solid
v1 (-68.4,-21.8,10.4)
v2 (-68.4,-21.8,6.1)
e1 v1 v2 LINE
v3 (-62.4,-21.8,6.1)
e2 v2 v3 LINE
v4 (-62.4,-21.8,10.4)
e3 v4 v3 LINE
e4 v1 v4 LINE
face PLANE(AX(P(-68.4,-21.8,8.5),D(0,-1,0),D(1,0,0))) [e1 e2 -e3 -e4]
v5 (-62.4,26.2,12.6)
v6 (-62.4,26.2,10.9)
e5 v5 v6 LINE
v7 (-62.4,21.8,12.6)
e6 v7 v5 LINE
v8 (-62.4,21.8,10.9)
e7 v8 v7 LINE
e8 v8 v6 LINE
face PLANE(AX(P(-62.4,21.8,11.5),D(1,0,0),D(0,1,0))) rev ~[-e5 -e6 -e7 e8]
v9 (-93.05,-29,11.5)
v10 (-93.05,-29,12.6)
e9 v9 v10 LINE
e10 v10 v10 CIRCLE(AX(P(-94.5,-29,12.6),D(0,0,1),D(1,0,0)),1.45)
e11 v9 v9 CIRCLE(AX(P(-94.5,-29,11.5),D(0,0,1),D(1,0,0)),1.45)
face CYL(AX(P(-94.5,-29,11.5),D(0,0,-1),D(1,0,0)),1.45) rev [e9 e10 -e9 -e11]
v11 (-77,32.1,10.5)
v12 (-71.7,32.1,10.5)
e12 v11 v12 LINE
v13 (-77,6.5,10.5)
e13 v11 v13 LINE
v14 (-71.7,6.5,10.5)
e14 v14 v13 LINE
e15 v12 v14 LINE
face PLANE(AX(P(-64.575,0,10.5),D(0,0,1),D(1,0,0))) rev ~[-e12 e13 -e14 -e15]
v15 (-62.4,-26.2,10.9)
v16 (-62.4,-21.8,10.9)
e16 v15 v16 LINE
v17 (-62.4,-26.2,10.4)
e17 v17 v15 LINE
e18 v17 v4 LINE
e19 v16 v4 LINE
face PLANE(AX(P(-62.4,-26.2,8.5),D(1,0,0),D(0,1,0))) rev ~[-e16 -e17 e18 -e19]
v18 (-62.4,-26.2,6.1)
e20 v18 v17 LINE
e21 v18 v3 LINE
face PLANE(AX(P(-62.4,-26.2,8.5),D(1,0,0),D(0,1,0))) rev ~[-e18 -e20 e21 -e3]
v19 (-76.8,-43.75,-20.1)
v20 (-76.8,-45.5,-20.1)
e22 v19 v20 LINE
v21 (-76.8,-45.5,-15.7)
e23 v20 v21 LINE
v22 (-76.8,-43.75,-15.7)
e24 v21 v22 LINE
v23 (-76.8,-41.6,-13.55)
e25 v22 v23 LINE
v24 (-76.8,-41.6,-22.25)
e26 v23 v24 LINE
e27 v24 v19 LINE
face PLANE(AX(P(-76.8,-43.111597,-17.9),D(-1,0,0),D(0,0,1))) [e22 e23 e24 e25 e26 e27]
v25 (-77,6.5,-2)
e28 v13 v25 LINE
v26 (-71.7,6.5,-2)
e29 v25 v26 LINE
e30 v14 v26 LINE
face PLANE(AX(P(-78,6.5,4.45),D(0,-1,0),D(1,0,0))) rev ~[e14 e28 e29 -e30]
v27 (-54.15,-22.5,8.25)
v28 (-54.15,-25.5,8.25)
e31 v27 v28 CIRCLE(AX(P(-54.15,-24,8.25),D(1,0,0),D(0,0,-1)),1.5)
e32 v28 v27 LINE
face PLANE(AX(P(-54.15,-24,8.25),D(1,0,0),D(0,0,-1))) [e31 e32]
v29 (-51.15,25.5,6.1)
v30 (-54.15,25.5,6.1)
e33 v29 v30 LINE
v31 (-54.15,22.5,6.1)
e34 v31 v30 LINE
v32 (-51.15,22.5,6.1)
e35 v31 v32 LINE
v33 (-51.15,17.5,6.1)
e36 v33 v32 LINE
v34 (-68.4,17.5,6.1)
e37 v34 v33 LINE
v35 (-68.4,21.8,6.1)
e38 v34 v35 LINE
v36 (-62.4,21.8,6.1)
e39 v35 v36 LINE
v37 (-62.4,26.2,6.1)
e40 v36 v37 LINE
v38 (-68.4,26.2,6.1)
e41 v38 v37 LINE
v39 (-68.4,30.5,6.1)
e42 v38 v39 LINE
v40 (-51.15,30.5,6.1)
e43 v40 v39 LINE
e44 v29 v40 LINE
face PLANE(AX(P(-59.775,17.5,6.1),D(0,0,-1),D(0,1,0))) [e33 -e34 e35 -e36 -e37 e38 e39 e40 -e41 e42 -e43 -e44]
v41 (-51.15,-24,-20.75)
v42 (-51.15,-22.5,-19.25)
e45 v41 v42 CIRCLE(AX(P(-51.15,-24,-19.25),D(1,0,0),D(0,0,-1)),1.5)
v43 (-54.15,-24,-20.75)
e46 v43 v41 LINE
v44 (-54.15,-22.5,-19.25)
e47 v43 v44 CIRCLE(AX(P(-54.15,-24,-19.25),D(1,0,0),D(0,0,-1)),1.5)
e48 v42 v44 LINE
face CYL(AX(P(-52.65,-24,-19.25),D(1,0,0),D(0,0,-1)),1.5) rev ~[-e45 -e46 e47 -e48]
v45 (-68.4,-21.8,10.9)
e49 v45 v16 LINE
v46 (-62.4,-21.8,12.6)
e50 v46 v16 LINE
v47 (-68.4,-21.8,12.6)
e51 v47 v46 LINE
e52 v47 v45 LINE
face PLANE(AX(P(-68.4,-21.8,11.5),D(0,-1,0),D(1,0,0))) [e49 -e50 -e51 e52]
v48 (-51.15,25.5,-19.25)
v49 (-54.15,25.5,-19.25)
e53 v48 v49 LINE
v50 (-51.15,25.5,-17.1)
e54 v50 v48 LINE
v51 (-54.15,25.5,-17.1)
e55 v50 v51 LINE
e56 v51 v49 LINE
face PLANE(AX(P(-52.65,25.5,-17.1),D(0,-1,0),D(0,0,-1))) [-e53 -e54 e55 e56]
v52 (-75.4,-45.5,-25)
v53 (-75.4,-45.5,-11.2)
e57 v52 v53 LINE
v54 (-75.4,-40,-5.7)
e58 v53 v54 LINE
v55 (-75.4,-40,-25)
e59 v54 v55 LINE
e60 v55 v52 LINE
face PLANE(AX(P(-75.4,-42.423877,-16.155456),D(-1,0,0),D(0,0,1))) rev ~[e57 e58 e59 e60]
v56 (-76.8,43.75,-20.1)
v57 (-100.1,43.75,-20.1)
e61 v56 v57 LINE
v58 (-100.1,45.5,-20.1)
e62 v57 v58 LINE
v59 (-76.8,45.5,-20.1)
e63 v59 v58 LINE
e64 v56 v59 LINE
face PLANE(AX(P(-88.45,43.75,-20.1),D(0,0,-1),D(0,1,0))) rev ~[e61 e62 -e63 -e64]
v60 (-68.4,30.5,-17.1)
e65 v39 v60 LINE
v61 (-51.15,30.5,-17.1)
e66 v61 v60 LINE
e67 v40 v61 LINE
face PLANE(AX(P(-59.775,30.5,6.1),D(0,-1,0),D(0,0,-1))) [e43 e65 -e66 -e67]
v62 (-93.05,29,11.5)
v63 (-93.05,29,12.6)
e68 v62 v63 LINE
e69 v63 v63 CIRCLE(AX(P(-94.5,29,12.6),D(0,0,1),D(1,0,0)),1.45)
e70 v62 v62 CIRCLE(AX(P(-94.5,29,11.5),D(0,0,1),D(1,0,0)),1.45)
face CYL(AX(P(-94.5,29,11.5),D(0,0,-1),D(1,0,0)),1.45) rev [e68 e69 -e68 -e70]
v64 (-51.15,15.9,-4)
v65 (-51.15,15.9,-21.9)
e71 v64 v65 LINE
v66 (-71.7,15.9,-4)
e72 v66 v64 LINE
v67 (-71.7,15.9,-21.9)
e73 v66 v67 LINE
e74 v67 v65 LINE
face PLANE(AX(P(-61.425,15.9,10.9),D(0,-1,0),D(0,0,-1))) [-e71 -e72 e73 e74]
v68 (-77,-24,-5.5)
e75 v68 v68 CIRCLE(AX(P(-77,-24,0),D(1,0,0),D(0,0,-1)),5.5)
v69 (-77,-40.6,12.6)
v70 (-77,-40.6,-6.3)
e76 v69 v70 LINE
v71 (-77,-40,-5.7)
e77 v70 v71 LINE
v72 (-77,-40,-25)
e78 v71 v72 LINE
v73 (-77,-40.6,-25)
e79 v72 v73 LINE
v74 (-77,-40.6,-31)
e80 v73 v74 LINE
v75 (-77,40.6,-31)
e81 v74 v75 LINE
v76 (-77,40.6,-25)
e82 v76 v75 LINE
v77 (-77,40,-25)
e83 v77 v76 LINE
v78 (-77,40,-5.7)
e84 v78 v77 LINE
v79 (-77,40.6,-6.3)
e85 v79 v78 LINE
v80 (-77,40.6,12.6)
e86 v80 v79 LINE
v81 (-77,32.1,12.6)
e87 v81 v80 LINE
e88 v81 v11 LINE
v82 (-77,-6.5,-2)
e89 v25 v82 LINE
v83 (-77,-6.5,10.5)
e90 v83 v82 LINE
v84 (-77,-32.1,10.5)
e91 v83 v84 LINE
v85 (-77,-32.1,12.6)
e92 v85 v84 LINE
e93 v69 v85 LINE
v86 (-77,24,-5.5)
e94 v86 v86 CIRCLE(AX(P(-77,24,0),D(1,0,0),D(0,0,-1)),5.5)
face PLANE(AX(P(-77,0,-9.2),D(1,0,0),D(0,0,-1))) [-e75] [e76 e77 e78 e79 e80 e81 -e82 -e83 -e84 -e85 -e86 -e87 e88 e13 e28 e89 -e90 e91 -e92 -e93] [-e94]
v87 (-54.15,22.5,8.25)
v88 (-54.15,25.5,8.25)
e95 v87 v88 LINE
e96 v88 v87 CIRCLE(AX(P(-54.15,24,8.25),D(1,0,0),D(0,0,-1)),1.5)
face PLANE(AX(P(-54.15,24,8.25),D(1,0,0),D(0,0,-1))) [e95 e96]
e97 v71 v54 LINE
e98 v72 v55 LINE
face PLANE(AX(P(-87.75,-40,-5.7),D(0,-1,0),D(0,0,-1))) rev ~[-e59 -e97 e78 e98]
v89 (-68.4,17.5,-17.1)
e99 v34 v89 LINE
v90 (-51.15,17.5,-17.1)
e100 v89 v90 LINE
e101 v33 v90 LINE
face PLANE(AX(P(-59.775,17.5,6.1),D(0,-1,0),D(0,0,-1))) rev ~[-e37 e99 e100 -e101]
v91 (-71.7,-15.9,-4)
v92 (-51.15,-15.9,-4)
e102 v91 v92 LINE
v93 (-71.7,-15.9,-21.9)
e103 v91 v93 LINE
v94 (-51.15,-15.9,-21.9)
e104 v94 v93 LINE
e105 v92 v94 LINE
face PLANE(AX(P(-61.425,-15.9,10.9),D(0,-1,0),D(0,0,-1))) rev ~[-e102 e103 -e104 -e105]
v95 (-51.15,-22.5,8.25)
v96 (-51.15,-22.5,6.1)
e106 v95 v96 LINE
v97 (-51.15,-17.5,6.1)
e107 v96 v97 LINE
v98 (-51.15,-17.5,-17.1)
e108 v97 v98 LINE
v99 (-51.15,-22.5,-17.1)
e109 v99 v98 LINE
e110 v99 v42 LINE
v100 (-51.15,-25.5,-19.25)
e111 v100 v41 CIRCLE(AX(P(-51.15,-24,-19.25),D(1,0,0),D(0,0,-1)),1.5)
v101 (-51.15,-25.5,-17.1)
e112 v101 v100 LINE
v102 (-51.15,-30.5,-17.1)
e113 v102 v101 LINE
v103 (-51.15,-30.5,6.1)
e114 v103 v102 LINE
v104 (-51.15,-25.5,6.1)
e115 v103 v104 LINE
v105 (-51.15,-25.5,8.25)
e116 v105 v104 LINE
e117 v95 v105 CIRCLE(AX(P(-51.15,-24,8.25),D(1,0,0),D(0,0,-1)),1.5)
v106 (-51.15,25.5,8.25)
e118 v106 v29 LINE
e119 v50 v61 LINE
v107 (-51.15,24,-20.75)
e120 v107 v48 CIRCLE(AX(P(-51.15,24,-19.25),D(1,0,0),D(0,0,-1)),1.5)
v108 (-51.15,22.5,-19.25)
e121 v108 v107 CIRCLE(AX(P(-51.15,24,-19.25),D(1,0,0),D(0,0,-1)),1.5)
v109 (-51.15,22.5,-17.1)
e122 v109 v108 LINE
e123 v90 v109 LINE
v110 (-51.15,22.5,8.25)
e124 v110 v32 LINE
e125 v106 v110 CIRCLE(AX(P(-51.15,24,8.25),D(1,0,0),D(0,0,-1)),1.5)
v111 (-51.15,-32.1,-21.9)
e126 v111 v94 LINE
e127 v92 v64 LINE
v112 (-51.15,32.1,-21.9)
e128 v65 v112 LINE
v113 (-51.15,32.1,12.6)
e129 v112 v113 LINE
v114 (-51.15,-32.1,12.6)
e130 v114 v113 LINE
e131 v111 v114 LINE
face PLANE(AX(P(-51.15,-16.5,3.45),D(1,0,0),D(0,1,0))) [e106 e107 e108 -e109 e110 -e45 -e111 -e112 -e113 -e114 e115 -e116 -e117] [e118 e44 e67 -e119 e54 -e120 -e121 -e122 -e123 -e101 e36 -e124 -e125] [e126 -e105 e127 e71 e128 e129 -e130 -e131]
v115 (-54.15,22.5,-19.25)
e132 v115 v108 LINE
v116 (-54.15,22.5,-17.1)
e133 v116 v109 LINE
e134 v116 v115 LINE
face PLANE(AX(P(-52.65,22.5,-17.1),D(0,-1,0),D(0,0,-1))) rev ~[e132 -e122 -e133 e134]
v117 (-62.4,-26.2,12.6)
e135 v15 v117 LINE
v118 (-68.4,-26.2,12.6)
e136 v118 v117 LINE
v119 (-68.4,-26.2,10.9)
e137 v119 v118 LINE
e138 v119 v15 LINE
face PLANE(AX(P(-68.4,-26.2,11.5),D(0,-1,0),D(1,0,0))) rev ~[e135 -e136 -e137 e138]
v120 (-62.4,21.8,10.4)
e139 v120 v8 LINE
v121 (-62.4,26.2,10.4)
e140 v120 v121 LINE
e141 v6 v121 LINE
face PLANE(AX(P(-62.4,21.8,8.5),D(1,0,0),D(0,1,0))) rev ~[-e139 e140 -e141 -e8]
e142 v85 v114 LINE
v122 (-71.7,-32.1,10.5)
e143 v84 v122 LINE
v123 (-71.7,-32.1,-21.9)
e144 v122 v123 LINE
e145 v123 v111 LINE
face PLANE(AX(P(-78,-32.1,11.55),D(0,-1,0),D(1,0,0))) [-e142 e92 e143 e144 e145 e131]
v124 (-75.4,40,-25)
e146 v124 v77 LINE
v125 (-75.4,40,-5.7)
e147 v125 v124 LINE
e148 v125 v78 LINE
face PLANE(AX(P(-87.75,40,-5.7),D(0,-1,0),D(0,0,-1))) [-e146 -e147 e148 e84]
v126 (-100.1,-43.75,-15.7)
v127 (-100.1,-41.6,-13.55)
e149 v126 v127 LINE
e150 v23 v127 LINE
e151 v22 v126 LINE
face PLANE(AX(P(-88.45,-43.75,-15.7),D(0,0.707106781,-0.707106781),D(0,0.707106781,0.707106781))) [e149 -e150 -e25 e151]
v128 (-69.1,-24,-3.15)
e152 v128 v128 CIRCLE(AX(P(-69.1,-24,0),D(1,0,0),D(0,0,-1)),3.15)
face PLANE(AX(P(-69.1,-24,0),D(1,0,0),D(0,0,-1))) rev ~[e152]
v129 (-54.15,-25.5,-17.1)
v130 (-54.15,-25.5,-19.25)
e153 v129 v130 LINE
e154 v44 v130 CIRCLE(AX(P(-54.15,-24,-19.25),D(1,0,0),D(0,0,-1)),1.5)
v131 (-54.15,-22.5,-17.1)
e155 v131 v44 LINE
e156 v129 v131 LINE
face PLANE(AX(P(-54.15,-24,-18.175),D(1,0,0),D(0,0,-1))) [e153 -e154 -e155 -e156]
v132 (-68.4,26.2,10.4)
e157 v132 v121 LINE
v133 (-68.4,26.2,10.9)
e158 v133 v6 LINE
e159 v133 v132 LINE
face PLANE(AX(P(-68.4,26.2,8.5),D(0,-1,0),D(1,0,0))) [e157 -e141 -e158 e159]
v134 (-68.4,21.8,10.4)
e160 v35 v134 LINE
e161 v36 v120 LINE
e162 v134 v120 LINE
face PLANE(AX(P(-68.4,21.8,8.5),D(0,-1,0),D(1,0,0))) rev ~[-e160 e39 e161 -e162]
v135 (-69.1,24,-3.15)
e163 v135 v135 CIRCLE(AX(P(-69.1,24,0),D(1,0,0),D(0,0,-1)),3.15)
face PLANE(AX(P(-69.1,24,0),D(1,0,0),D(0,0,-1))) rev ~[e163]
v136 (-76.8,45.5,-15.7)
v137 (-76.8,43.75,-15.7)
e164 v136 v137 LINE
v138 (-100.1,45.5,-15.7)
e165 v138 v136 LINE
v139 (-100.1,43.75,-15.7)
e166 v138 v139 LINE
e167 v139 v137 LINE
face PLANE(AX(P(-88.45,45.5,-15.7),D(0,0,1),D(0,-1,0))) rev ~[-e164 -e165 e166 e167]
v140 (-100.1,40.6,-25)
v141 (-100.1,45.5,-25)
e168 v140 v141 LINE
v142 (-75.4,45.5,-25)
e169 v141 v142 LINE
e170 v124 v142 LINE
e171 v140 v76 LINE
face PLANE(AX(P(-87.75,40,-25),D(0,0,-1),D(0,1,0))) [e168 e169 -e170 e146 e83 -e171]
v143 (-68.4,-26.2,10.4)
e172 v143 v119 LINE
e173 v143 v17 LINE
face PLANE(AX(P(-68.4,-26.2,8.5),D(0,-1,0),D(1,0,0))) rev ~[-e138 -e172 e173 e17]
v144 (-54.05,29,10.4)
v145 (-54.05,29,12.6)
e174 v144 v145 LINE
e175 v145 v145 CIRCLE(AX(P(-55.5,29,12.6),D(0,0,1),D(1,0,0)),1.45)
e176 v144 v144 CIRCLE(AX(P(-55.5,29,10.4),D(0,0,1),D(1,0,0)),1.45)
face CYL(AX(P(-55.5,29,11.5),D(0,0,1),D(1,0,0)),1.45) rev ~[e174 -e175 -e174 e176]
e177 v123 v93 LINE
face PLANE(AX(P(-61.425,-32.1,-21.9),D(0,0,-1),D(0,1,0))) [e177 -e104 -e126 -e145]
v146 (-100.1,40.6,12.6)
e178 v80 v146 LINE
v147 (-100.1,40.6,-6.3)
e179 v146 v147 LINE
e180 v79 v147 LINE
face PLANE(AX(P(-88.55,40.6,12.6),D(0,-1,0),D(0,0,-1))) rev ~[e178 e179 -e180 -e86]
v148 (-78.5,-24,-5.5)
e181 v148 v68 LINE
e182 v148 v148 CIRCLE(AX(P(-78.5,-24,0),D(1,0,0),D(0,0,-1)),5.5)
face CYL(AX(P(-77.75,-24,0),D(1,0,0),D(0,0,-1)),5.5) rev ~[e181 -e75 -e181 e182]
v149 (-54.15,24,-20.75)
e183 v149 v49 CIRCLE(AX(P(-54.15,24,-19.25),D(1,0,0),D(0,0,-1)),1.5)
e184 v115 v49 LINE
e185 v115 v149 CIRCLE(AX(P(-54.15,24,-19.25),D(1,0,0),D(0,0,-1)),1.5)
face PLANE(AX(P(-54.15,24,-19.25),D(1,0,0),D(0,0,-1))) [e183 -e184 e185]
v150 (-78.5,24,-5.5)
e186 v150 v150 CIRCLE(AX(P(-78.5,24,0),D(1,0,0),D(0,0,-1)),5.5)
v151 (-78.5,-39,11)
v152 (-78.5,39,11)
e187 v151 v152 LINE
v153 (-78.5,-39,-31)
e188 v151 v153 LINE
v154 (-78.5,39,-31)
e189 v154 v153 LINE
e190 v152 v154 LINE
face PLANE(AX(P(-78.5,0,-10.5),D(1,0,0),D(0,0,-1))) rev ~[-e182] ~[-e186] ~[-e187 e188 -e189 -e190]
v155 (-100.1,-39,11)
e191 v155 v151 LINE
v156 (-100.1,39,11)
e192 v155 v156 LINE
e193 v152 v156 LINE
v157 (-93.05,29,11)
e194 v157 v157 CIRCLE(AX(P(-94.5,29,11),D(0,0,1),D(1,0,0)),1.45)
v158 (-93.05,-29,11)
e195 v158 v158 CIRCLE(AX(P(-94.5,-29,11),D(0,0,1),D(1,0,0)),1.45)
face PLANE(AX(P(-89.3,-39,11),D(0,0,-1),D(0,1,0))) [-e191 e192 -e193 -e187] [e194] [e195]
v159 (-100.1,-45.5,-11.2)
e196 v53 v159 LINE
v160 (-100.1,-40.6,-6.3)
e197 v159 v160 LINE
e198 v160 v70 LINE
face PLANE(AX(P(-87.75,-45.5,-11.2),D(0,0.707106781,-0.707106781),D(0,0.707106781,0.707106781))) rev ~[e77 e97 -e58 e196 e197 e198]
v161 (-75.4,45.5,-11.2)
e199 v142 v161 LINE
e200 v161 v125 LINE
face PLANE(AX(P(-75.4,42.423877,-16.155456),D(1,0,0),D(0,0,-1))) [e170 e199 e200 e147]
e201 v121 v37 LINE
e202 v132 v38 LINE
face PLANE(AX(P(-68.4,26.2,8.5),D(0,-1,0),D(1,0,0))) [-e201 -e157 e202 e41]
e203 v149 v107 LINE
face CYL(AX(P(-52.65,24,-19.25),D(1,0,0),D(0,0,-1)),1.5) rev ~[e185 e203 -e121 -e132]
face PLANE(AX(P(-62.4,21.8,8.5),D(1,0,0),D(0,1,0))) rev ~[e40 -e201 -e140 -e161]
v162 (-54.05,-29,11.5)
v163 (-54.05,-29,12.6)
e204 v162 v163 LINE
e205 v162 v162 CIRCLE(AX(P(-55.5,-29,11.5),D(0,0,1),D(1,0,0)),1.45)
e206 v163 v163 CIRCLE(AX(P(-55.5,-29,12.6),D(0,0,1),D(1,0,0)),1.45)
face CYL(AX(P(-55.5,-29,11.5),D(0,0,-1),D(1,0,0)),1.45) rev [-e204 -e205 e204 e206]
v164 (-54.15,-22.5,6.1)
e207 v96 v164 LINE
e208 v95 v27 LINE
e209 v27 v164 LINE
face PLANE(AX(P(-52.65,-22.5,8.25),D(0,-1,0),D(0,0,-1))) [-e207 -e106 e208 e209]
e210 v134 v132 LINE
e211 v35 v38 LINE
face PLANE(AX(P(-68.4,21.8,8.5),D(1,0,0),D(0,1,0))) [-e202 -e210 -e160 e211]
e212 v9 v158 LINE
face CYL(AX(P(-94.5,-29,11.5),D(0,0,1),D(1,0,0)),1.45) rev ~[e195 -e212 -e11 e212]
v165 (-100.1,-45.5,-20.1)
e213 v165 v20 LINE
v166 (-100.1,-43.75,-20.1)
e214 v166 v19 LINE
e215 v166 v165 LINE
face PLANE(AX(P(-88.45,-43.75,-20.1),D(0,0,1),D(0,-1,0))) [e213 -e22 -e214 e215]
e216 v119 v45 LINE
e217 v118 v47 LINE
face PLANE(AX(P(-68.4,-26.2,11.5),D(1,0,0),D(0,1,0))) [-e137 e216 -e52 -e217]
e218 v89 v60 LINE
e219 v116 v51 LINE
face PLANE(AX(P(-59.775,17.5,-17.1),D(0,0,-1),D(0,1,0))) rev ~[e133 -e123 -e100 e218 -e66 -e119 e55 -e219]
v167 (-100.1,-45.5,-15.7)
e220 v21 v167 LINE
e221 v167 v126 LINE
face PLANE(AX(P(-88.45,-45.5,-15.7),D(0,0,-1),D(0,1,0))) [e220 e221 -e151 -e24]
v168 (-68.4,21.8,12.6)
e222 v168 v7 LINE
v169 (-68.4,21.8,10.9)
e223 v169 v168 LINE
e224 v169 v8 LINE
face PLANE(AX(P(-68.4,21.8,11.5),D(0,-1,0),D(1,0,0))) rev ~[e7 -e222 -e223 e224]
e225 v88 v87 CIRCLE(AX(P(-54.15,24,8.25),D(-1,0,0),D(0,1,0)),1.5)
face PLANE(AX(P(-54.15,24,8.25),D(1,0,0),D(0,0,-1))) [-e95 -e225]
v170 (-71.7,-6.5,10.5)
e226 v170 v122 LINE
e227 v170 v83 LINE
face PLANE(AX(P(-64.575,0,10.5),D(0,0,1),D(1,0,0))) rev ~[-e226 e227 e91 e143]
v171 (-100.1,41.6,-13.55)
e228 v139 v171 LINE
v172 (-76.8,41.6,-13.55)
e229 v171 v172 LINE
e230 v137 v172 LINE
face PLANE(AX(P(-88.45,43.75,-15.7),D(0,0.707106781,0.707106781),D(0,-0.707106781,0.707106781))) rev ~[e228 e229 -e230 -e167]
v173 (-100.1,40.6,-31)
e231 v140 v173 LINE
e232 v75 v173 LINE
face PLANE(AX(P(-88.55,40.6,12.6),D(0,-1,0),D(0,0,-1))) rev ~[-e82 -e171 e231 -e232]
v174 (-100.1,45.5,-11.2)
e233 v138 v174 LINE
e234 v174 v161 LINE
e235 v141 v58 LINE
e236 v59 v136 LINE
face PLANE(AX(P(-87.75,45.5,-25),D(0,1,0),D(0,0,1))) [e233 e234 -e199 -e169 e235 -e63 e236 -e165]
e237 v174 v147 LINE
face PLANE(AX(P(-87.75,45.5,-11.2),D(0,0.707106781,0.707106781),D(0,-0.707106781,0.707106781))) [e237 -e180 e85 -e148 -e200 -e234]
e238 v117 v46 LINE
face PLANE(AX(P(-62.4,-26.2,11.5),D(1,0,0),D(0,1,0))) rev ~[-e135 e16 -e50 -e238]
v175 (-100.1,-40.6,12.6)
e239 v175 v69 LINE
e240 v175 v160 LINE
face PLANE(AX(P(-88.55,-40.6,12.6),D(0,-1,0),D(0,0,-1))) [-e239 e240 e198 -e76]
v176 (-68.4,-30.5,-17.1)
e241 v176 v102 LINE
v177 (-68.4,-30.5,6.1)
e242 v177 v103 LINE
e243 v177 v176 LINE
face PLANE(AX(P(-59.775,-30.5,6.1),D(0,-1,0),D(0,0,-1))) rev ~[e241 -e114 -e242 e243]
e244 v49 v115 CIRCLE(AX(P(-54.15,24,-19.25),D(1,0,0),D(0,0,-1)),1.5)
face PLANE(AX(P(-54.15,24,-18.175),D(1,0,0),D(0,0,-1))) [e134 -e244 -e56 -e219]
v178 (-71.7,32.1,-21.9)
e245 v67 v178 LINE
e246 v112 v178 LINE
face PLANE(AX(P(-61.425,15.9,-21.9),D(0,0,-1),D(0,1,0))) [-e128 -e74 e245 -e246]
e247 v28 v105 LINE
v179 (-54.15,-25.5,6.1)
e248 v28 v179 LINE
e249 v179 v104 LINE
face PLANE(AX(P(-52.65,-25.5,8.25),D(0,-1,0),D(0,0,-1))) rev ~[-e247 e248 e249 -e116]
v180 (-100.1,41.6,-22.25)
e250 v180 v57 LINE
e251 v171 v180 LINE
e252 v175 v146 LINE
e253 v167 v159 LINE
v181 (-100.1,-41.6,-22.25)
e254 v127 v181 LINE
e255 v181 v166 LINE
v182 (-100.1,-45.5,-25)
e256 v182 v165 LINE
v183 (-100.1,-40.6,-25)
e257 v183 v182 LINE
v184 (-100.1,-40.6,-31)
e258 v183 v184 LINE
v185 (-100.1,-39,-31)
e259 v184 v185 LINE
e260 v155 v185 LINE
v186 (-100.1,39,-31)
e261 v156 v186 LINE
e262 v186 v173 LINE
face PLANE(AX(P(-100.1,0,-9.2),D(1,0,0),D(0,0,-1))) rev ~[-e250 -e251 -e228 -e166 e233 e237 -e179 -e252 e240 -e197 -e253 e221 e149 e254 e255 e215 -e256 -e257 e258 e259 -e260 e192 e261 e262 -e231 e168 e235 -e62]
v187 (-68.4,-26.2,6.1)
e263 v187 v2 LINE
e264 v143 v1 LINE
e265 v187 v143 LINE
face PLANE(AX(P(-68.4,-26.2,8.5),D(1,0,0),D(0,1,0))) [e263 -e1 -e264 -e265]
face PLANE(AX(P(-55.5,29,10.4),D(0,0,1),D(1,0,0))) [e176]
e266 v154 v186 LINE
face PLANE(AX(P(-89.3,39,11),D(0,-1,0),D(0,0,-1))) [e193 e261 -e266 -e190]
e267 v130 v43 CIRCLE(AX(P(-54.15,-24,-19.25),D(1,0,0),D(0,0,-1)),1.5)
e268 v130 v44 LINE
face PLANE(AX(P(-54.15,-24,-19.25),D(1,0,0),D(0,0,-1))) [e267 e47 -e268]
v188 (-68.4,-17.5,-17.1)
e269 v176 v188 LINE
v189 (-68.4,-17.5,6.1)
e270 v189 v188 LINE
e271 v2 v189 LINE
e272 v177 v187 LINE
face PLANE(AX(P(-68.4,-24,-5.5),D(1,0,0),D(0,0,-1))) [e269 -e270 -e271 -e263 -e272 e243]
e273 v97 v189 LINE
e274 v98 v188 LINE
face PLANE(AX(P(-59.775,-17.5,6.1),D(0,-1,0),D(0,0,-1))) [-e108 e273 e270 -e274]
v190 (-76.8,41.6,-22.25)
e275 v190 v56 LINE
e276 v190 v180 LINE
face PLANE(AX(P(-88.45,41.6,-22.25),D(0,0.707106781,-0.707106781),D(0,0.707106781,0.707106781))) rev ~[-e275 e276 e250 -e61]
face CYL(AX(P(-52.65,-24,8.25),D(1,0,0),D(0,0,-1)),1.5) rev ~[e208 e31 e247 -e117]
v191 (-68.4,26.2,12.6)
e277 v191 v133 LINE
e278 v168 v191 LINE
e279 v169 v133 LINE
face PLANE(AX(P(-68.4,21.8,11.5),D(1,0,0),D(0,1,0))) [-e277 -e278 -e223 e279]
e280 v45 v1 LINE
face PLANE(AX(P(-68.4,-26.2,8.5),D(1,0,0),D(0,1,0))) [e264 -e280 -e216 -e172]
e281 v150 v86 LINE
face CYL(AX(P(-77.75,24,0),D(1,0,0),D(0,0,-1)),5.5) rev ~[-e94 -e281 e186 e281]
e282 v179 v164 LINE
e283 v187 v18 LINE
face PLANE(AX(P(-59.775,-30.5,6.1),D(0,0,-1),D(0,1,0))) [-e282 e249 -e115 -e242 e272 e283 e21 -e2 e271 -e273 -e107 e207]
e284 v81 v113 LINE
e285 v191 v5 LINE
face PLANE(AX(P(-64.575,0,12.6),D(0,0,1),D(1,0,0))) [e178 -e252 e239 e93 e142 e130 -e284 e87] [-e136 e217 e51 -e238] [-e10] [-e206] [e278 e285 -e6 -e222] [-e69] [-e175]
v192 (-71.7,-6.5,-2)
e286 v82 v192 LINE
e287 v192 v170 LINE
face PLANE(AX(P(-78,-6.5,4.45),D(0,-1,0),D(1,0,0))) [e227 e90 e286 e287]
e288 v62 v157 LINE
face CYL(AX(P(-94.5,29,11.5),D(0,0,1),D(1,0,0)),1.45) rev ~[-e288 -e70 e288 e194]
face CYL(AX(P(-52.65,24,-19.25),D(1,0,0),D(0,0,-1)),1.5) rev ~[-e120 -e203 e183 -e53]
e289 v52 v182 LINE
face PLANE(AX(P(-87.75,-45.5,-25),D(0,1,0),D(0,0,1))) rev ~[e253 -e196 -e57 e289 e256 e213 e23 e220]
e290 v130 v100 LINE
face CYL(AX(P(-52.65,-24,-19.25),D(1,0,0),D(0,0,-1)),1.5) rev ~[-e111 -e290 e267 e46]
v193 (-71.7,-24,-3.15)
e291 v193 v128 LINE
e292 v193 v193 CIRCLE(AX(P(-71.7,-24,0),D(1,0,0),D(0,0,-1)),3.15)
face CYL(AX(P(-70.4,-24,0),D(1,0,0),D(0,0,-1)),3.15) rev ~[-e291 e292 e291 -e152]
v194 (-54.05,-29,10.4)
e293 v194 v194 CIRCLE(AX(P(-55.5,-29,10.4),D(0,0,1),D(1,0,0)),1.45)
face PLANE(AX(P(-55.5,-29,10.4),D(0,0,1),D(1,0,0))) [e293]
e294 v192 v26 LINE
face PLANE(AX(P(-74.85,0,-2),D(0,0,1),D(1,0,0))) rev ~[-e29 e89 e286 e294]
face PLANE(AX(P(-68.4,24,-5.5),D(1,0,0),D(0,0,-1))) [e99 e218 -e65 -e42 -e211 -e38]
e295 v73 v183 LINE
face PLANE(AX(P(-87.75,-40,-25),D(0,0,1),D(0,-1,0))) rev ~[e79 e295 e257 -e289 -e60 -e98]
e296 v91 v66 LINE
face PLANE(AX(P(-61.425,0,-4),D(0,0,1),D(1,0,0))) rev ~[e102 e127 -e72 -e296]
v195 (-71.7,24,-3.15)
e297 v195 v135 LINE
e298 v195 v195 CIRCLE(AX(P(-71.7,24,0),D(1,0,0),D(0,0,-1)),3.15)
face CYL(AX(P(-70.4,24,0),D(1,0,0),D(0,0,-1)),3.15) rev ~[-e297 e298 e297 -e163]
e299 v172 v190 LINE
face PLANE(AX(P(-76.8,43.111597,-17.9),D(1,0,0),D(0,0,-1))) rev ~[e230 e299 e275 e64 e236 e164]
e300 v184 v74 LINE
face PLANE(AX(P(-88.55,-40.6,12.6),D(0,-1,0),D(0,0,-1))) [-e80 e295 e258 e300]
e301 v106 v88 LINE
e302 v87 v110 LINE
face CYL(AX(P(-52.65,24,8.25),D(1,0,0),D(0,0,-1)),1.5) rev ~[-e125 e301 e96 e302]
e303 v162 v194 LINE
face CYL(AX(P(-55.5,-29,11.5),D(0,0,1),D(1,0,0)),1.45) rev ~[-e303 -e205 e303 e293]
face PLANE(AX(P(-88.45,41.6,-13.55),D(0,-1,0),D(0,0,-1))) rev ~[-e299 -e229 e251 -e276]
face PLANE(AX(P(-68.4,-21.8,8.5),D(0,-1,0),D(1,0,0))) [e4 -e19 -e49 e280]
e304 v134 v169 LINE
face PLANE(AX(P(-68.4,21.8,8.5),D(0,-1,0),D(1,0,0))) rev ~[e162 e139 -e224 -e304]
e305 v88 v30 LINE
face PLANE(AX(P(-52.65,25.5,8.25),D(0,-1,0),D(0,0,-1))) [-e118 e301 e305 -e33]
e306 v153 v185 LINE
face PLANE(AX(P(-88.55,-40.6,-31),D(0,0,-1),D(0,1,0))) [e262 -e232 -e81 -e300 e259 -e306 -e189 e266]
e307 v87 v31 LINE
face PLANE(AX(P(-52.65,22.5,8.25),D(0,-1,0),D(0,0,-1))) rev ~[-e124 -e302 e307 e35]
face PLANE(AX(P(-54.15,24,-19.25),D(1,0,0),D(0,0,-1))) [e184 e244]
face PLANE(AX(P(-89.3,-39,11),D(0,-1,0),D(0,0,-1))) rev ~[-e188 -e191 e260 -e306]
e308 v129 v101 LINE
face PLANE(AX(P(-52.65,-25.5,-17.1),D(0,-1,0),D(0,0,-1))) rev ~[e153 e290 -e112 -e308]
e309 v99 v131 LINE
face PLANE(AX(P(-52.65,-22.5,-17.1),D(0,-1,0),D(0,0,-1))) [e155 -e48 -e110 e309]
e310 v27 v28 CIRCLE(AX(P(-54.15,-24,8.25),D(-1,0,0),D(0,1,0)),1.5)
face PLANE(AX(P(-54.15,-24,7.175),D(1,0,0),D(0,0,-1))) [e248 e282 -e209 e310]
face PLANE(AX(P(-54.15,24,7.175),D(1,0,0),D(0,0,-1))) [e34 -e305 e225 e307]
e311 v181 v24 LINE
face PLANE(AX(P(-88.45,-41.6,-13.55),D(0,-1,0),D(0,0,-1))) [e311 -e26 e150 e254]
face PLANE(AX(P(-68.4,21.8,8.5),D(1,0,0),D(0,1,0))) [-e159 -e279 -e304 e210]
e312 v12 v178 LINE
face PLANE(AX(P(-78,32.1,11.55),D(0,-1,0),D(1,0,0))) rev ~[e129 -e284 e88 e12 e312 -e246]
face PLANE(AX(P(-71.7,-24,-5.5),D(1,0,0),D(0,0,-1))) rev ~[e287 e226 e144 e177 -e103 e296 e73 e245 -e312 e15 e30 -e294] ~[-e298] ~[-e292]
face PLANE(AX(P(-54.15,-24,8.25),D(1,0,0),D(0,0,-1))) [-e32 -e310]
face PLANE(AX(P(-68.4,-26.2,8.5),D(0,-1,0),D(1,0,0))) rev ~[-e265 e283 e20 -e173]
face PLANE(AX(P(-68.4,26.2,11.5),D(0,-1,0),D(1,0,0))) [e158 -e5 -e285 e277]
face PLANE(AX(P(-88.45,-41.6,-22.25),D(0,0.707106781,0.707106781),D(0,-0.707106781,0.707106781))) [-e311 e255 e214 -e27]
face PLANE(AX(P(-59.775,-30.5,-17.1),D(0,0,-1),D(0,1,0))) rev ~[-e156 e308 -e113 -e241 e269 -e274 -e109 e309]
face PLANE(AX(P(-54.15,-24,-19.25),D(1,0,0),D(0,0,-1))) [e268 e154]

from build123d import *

# Parameters (mm, degrees)
BOSS_EXTRUDE1_START = -88.55
SKETCH1_W           = 43.6
SKETCH1_H           = 81.2
BOSS_EXTRUDE1_DEPTH = 11.55
BOSS_EXTRUDE2_START = 3.45
SKETCH2_W           = 20.55
SKETCH2_H           = 33
BOSS_EXTRUDE2_DEPTH = 7.45
BOSS_EXTRUDE3_START = 4.45
SKETCH3_W           = 6.3
SKETCH3_H           = 13
BOSS_EXTRUDE3_DEPTH = 6.45
BOSS_EXTRUDE4_START = 11.55
SKETCH4_W           = 26.85
SKETCH4_H           = 64.2
BOSS_EXTRUDE4_DEPTH = 1.05
BOSS_EXTRUDE5_START = -61.425
SKETCH5_W           = 32.8
SKETCH5_H           = 16.2
BOSS_EXTRUDE5_DEPTH = 10.275
BOSS_EXTRUDE6_START = -87.75
BOSS_EXTRUDE6_DEPTH = 12.35
BOSS_EXTRUDE7_START = -61.425
SKETCH7_W           = 32.8
SKETCH7_H           = 16.2
BOSS_EXTRUDE7_DEPTH = 10.275
BOSS_EXTRUDE8_START = -87.75
BOSS_EXTRUDE8_DEPTH = 12.35
CUT_EXTRUDE1_START  = -89.3
SKETCH9_W           = 43
SKETCH9_H           = 78
CUT_EXTRUDE1_DEPTH  = 10.8
CUT_EXTRUDE2_START  = 11.5
SKETCH10_R          = 1.45
CUT_EXTRUDE2_DEPTH  = 1.1
CUT_EXTRUDE3_START  = -88.45
CUT_EXTRUDE3_DEPTH  = 11.65
CUT_EXTRUDE4_START  = -59.775
SKETCH12_W          = 23.2
SKETCH12_H          = 13
CUT_EXTRUDE4_DEPTH  = 8.625
CUT_EXTRUDE5_START  = -52.65
SKETCH13_R          = 1.5
CUT_EXTRUDE5_DEPTH  = 1.5
CUT_EXTRUDE6_START  = -52.65
SKETCH14_W          = 2.15
SKETCH14_H          = 3
CUT_EXTRUDE6_DEPTH  = 1.5
CUT_EXTRUDE7_START  = -52.65
SKETCH15_R          = 1.5
CUT_EXTRUDE7_DEPTH  = 1.5
CUT_EXTRUDE8_START  = -52.65
SKETCH16_W          = 2.15
SKETCH16_H          = 3
CUT_EXTRUDE8_DEPTH  = 1.5
CUT_EXTRUDE9_START  = -70.4
SKETCH17_R          = 3.15
CUT_EXTRUDE9_DEPTH  = 1.3
CUT_EXTRUDE10_START = 8.5
SKETCH18_W          = 6
SKETCH18_H          = 4.4
CUT_EXTRUDE10_DEPTH = 2.4
CUT_EXTRUDE11_START = 11.5
SKETCH19_W          = 6
SKETCH19_H          = 4.4
CUT_EXTRUDE11_DEPTH = 1.1
CUT_EXTRUDE12_START = -77.75
SKETCH20_R          = 5.5
CUT_EXTRUDE12_DEPTH = 0.75
CUT_EXTRUDE13_START = -88.45
CUT_EXTRUDE13_DEPTH = 11.65
CUT_EXTRUDE14_START = -59.775
SKETCH22_W          = 23.2
SKETCH22_H          = 13
CUT_EXTRUDE14_DEPTH = 8.625
CUT_EXTRUDE15_START = -52.65
SKETCH23_R          = 1.5
CUT_EXTRUDE15_DEPTH = 1.5
CUT_EXTRUDE16_START = -52.65
SKETCH24_W          = 2.15
SKETCH24_H          = 3
CUT_EXTRUDE16_DEPTH = 1.5
CUT_EXTRUDE17_START = -52.65
SKETCH25_R          = 1.5
CUT_EXTRUDE17_DEPTH = 1.5
CUT_EXTRUDE18_START = -52.65
SKETCH26_W          = 2.15
SKETCH26_H          = 3
CUT_EXTRUDE18_DEPTH = 1.5
CUT_EXTRUDE19_START = -70.4
SKETCH27_R          = 3.15
CUT_EXTRUDE19_DEPTH = 1.3
CUT_EXTRUDE20_START = 8.5
SKETCH28_W          = 6
SKETCH28_H          = 4.4
CUT_EXTRUDE20_DEPTH = 2.4
CUT_EXTRUDE21_START = 11.5
SKETCH29_W          = 6
SKETCH29_H          = 4.4
CUT_EXTRUDE21_DEPTH = 1.1
CUT_EXTRUDE22_START = -77.75
SKETCH30_R          = 5.5
CUT_EXTRUDE22_DEPTH = 0.75


with BuildPart() as part:
    # Sketch1 → Boss-Extrude1 (new, symmetric)
    with BuildSketch(Plane(origin=(0, 0, 0), x_dir=(0, 0, -1), z_dir=(1, 0, 0)).offset(BOSS_EXTRUDE1_START)):
        with Locations((9.2, 0)):
            Rectangle(SKETCH1_W, SKETCH1_H)
    extrude(amount=BOSS_EXTRUDE1_DEPTH, both=True)



with BuildPart() as body_2:
    # Sketch2 → Boss-Extrude2 (new, symmetric)
    with BuildSketch(Plane.XY.offset(BOSS_EXTRUDE2_START)):
        with Locations((-61.425, 0)):
            Rectangle(SKETCH2_W, SKETCH2_H)
    extrude(amount=BOSS_EXTRUDE2_DEPTH, both=True)


with BuildPart() as part_1:
    add(part.part)

    add(body_2.part)  # Boss-Extrude3 merges body 2
    # Sketch3 → Boss-Extrude3 (add, symmetric)
    with BuildSketch(Plane.XY.offset(BOSS_EXTRUDE3_START)):
        with Locations((-74.85, 0)):
            Rectangle(SKETCH3_W, SKETCH3_H)
    extrude(amount=BOSS_EXTRUDE3_DEPTH, both=True)

    # Sketch4 → Boss-Extrude4 (add, symmetric)
    with BuildSketch(Plane.XY.offset(BOSS_EXTRUDE4_START)):
        with Locations((-64.575, 0)):
            Rectangle(SKETCH4_W, SKETCH4_H)
    extrude(amount=BOSS_EXTRUDE4_DEPTH, both=True)

    # Sketch5 → Boss-Extrude5 (add, symmetric)
    with BuildSketch(Plane(origin=(0, 0, 0), x_dir=(0, 0, -1), z_dir=(1, 0, 0)).offset(BOSS_EXTRUDE5_START)):
        with Locations((5.5, 24)):
            Rectangle(SKETCH5_W, SKETCH5_H)
    extrude(amount=BOSS_EXTRUDE5_DEPTH, both=True)

    # Sketch6 → Boss-Extrude6 (add, symmetric)
    with BuildSketch(Plane(origin=(0, 0, 0), x_dir=(0, 0, -1), z_dir=(1, 0, 0)).offset(BOSS_EXTRUDE6_START)):
        Polygon((25, 40), (25, 45.5), (11.2, 45.5), (5.7, 40), align=None)
    extrude(amount=BOSS_EXTRUDE6_DEPTH, both=True)

    # Sketch7 → Boss-Extrude7 (add, symmetric)
    with BuildSketch(Plane(origin=(0, 0, 0), x_dir=(0, 0, -1), z_dir=(1, 0, 0)).offset(BOSS_EXTRUDE7_START)):
        with Locations((5.5, -24)):
            Rectangle(SKETCH7_W, SKETCH7_H)
    extrude(amount=BOSS_EXTRUDE7_DEPTH, both=True)

    # Sketch8 → Boss-Extrude8 (add, symmetric)
    with BuildSketch(Plane(origin=(0, 0, 0), x_dir=(0, 0, -1), z_dir=(1, 0, 0)).offset(BOSS_EXTRUDE8_START)):
        Polygon((25, -40), (25, -45.5), (11.2, -45.5), (5.7, -40), align=None)
    extrude(amount=BOSS_EXTRUDE8_DEPTH, both=True)

    # Sketch9 → Cut-Extrude1 (cut, symmetric)
    with BuildSketch(Plane(origin=(0, 0, 0), x_dir=(0, 0, -1), z_dir=(1, 0, 0)).offset(CUT_EXTRUDE1_START)):
        with Locations((10.5, 0)):
            Rectangle(SKETCH9_W, SKETCH9_H)
    extrude(amount=CUT_EXTRUDE1_DEPTH, both=True, mode=Mode.SUBTRACT)

    # Sketch10 → Cut-Extrude2 (cut, symmetric)
    with BuildSketch(Plane.XY.offset(CUT_EXTRUDE2_START)):
        with Locations((-94.5, -29)):
            Circle(SKETCH10_R)
        with Locations((-94.5, 29)):
            Circle(SKETCH10_R)
        with Locations((-55.5, -29)):
            Circle(SKETCH10_R)
        with Locations((-55.5, 29)):
            Circle(SKETCH10_R)
    extrude(amount=CUT_EXTRUDE2_DEPTH, both=True, mode=Mode.SUBTRACT)

    # Sketch11 → Cut-Extrude3 (cut, symmetric)
    with BuildSketch(Plane(origin=(0, 0, 0), x_dir=(0, 0, -1), z_dir=(1, 0, 0)).offset(CUT_EXTRUDE3_START)):
        Polygon((20.1, 45.5), (15.7, 45.5), (15.7, 43.75), (13.55, 41.6), (22.25, 41.6), (20.1, 43.75), align=None)
    extrude(amount=CUT_EXTRUDE3_DEPTH, both=True, mode=Mode.SUBTRACT)

    # Sketch12 → Cut-Extrude4 (cut, symmetric)
    with BuildSketch(Plane(origin=(0, 0, 0), x_dir=(0, 0, -1), z_dir=(1, 0, 0)).offset(CUT_EXTRUDE4_START)):
        with Locations((5.5, 24)):
            Rectangle(SKETCH12_W, SKETCH12_H)
    extrude(amount=CUT_EXTRUDE4_DEPTH, both=True, mode=Mode.SUBTRACT)

    # Sketch13 → Cut-Extrude5 (cut, symmetric)
    with BuildSketch(Plane(origin=(0, 0, 0), x_dir=(0, 0, -1), z_dir=(1, 0, 0)).offset(CUT_EXTRUDE5_START)):
        with Locations((19.25, 24)):
            Circle(SKETCH13_R)
    extrude(amount=CUT_EXTRUDE5_DEPTH, both=True, mode=Mode.SUBTRACT)

    # Sketch14 → Cut-Extrude6 (cut, symmetric)
    with BuildSketch(Plane(origin=(0, 0, 0), x_dir=(0, 0, -1), z_dir=(1, 0, 0)).offset(CUT_EXTRUDE6_START)):
        with Locations((18.175, 24)):
            Rectangle(SKETCH14_W, SKETCH14_H)
    extrude(amount=CUT_EXTRUDE6_DEPTH, both=True, mode=Mode.SUBTRACT)

    # Sketch15 → Cut-Extrude7 (cut, symmetric)
    with BuildSketch(Plane(origin=(0, 0, 0), x_dir=(0, 0, -1), z_dir=(1, 0, 0)).offset(CUT_EXTRUDE7_START)):
        with Locations((-8.25, 24)):
            Circle(SKETCH15_R)
    extrude(amount=CUT_EXTRUDE7_DEPTH, both=True, mode=Mode.SUBTRACT)

    # Sketch16 → Cut-Extrude8 (cut, symmetric)
    with BuildSketch(Plane(origin=(0, 0, 0), x_dir=(0, 0, -1), z_dir=(1, 0, 0)).offset(CUT_EXTRUDE8_START)):
        with Locations((-7.175, 24)):
            Rectangle(SKETCH16_W, SKETCH16_H)
    extrude(amount=CUT_EXTRUDE8_DEPTH, both=True, mode=Mode.SUBTRACT)

    # Sketch17 → Cut-Extrude9 (cut, symmetric)
    with BuildSketch(Plane(origin=(0, 0, 0), x_dir=(0, 0, -1), z_dir=(1, 0, 0)).offset(CUT_EXTRUDE9_START)):
        with Locations((0, 24)):
            Circle(SKETCH17_R)
    extrude(amount=CUT_EXTRUDE9_DEPTH, both=True, mode=Mode.SUBTRACT)

    # Sketch18 → Cut-Extrude10 (cut, symmetric)
    with BuildSketch(Plane.XY.offset(CUT_EXTRUDE10_START)):
        with Locations((-65.4, 24)):
            Rectangle(SKETCH18_W, SKETCH18_H)
    extrude(amount=CUT_EXTRUDE10_DEPTH, both=True, mode=Mode.SUBTRACT)

    # Sketch19 → Cut-Extrude11 (cut, symmetric)
    with BuildSketch(Plane.XY.offset(CUT_EXTRUDE11_START)):
        with Locations((-65.4, 24)):
            Rectangle(SKETCH19_W, SKETCH19_H)
    extrude(amount=CUT_EXTRUDE11_DEPTH, both=True, mode=Mode.SUBTRACT)

    # Sketch20 → Cut-Extrude12 (cut, symmetric)
    with BuildSketch(Plane(origin=(0, 0, 0), x_dir=(0, 0, -1), z_dir=(1, 0, 0)).offset(CUT_EXTRUDE12_START)):
        with Locations((0, 24)):
            Circle(SKETCH20_R)
    extrude(amount=CUT_EXTRUDE12_DEPTH, both=True, mode=Mode.SUBTRACT)

    # Sketch21 → Cut-Extrude13 (cut, symmetric)
    with BuildSketch(Plane(origin=(0, 0, 0), x_dir=(0, 0, -1), z_dir=(1, 0, 0)).offset(CUT_EXTRUDE13_START)):
        Polygon((20.1, -45.5), (15.7, -45.5), (15.7, -43.75), (13.55, -41.6), (22.25, -41.6), (20.1, -43.75), align=None)
    extrude(amount=CUT_EXTRUDE13_DEPTH, both=True, mode=Mode.SUBTRACT)

    # Sketch22 → Cut-Extrude14 (cut, symmetric)
    with BuildSketch(Plane(origin=(0, 0, 0), x_dir=(0, 0, -1), z_dir=(1, 0, 0)).offset(CUT_EXTRUDE14_START)):
        with Locations((5.5, -24)):
            Rectangle(SKETCH22_W, SKETCH22_H)
    extrude(amount=CUT_EXTRUDE14_DEPTH, both=True, mode=Mode.SUBTRACT)

    # Sketch23 → Cut-Extrude15 (cut, symmetric)
    with BuildSketch(Plane(origin=(0, 0, 0), x_dir=(0, 0, -1), z_dir=(1, 0, 0)).offset(CUT_EXTRUDE15_START)):
        with Locations((19.25, -24)):
            Circle(SKETCH23_R)
    extrude(amount=CUT_EXTRUDE15_DEPTH, both=True, mode=Mode.SUBTRACT)

    # Sketch24 → Cut-Extrude16 (cut, symmetric)
    with BuildSketch(Plane(origin=(0, 0, 0), x_dir=(0, 0, -1), z_dir=(1, 0, 0)).offset(CUT_EXTRUDE16_START)):
        with Locations((18.175, -24)):
            Rectangle(SKETCH24_W, SKETCH24_H)
    extrude(amount=CUT_EXTRUDE16_DEPTH, both=True, mode=Mode.SUBTRACT)

    # Sketch25 → Cut-Extrude17 (cut, symmetric)
    with BuildSketch(Plane(origin=(0, 0, 0), x_dir=(0, 0, -1), z_dir=(1, 0, 0)).offset(CUT_EXTRUDE17_START)):
        with Locations((-8.25, -24)):
            Circle(SKETCH25_R)
    extrude(amount=CUT_EXTRUDE17_DEPTH, both=True, mode=Mode.SUBTRACT)

    # Sketch26 → Cut-Extrude18 (cut, symmetric)
    with BuildSketch(Plane(origin=(0, 0, 0), x_dir=(0, 0, -1), z_dir=(1, 0, 0)).offset(CUT_EXTRUDE18_START)):
        with Locations((-7.175, -24)):
            Rectangle(SKETCH26_W, SKETCH26_H)
    extrude(amount=CUT_EXTRUDE18_DEPTH, both=True, mode=Mode.SUBTRACT)

    # Sketch27 → Cut-Extrude19 (cut, symmetric)
    with BuildSketch(Plane(origin=(0, 0, 0), x_dir=(0, 0, -1), z_dir=(1, 0, 0)).offset(CUT_EXTRUDE19_START)):
        with Locations((0, -24)):
            Circle(SKETCH27_R)
    extrude(amount=CUT_EXTRUDE19_DEPTH, both=True, mode=Mode.SUBTRACT)

    # Sketch28 → Cut-Extrude20 (cut, symmetric)
    with BuildSketch(Plane.XY.offset(CUT_EXTRUDE20_START)):
        with Locations((-65.4, -24)):
            Rectangle(SKETCH28_W, SKETCH28_H)
    extrude(amount=CUT_EXTRUDE20_DEPTH, both=True, mode=Mode.SUBTRACT)

    # Sketch29 → Cut-Extrude21 (cut, symmetric)
    with BuildSketch(Plane.XY.offset(CUT_EXTRUDE21_START)):
        with Locations((-65.4, -24)):
            Rectangle(SKETCH29_W, SKETCH29_H)
    extrude(amount=CUT_EXTRUDE21_DEPTH, both=True, mode=Mode.SUBTRACT)

    # Sketch30 → Cut-Extrude22 (cut, symmetric)
    with BuildSketch(Plane(origin=(0, 0, 0), x_dir=(0, 0, -1), z_dir=(1, 0, 0)).offset(CUT_EXTRUDE22_START)):
        with Locations((0, -24)):
            Circle(SKETCH30_R)
    extrude(amount=CUT_EXTRUDE22_DEPTH, both=True, mode=Mode.SUBTRACT)


solid = part_1.part
